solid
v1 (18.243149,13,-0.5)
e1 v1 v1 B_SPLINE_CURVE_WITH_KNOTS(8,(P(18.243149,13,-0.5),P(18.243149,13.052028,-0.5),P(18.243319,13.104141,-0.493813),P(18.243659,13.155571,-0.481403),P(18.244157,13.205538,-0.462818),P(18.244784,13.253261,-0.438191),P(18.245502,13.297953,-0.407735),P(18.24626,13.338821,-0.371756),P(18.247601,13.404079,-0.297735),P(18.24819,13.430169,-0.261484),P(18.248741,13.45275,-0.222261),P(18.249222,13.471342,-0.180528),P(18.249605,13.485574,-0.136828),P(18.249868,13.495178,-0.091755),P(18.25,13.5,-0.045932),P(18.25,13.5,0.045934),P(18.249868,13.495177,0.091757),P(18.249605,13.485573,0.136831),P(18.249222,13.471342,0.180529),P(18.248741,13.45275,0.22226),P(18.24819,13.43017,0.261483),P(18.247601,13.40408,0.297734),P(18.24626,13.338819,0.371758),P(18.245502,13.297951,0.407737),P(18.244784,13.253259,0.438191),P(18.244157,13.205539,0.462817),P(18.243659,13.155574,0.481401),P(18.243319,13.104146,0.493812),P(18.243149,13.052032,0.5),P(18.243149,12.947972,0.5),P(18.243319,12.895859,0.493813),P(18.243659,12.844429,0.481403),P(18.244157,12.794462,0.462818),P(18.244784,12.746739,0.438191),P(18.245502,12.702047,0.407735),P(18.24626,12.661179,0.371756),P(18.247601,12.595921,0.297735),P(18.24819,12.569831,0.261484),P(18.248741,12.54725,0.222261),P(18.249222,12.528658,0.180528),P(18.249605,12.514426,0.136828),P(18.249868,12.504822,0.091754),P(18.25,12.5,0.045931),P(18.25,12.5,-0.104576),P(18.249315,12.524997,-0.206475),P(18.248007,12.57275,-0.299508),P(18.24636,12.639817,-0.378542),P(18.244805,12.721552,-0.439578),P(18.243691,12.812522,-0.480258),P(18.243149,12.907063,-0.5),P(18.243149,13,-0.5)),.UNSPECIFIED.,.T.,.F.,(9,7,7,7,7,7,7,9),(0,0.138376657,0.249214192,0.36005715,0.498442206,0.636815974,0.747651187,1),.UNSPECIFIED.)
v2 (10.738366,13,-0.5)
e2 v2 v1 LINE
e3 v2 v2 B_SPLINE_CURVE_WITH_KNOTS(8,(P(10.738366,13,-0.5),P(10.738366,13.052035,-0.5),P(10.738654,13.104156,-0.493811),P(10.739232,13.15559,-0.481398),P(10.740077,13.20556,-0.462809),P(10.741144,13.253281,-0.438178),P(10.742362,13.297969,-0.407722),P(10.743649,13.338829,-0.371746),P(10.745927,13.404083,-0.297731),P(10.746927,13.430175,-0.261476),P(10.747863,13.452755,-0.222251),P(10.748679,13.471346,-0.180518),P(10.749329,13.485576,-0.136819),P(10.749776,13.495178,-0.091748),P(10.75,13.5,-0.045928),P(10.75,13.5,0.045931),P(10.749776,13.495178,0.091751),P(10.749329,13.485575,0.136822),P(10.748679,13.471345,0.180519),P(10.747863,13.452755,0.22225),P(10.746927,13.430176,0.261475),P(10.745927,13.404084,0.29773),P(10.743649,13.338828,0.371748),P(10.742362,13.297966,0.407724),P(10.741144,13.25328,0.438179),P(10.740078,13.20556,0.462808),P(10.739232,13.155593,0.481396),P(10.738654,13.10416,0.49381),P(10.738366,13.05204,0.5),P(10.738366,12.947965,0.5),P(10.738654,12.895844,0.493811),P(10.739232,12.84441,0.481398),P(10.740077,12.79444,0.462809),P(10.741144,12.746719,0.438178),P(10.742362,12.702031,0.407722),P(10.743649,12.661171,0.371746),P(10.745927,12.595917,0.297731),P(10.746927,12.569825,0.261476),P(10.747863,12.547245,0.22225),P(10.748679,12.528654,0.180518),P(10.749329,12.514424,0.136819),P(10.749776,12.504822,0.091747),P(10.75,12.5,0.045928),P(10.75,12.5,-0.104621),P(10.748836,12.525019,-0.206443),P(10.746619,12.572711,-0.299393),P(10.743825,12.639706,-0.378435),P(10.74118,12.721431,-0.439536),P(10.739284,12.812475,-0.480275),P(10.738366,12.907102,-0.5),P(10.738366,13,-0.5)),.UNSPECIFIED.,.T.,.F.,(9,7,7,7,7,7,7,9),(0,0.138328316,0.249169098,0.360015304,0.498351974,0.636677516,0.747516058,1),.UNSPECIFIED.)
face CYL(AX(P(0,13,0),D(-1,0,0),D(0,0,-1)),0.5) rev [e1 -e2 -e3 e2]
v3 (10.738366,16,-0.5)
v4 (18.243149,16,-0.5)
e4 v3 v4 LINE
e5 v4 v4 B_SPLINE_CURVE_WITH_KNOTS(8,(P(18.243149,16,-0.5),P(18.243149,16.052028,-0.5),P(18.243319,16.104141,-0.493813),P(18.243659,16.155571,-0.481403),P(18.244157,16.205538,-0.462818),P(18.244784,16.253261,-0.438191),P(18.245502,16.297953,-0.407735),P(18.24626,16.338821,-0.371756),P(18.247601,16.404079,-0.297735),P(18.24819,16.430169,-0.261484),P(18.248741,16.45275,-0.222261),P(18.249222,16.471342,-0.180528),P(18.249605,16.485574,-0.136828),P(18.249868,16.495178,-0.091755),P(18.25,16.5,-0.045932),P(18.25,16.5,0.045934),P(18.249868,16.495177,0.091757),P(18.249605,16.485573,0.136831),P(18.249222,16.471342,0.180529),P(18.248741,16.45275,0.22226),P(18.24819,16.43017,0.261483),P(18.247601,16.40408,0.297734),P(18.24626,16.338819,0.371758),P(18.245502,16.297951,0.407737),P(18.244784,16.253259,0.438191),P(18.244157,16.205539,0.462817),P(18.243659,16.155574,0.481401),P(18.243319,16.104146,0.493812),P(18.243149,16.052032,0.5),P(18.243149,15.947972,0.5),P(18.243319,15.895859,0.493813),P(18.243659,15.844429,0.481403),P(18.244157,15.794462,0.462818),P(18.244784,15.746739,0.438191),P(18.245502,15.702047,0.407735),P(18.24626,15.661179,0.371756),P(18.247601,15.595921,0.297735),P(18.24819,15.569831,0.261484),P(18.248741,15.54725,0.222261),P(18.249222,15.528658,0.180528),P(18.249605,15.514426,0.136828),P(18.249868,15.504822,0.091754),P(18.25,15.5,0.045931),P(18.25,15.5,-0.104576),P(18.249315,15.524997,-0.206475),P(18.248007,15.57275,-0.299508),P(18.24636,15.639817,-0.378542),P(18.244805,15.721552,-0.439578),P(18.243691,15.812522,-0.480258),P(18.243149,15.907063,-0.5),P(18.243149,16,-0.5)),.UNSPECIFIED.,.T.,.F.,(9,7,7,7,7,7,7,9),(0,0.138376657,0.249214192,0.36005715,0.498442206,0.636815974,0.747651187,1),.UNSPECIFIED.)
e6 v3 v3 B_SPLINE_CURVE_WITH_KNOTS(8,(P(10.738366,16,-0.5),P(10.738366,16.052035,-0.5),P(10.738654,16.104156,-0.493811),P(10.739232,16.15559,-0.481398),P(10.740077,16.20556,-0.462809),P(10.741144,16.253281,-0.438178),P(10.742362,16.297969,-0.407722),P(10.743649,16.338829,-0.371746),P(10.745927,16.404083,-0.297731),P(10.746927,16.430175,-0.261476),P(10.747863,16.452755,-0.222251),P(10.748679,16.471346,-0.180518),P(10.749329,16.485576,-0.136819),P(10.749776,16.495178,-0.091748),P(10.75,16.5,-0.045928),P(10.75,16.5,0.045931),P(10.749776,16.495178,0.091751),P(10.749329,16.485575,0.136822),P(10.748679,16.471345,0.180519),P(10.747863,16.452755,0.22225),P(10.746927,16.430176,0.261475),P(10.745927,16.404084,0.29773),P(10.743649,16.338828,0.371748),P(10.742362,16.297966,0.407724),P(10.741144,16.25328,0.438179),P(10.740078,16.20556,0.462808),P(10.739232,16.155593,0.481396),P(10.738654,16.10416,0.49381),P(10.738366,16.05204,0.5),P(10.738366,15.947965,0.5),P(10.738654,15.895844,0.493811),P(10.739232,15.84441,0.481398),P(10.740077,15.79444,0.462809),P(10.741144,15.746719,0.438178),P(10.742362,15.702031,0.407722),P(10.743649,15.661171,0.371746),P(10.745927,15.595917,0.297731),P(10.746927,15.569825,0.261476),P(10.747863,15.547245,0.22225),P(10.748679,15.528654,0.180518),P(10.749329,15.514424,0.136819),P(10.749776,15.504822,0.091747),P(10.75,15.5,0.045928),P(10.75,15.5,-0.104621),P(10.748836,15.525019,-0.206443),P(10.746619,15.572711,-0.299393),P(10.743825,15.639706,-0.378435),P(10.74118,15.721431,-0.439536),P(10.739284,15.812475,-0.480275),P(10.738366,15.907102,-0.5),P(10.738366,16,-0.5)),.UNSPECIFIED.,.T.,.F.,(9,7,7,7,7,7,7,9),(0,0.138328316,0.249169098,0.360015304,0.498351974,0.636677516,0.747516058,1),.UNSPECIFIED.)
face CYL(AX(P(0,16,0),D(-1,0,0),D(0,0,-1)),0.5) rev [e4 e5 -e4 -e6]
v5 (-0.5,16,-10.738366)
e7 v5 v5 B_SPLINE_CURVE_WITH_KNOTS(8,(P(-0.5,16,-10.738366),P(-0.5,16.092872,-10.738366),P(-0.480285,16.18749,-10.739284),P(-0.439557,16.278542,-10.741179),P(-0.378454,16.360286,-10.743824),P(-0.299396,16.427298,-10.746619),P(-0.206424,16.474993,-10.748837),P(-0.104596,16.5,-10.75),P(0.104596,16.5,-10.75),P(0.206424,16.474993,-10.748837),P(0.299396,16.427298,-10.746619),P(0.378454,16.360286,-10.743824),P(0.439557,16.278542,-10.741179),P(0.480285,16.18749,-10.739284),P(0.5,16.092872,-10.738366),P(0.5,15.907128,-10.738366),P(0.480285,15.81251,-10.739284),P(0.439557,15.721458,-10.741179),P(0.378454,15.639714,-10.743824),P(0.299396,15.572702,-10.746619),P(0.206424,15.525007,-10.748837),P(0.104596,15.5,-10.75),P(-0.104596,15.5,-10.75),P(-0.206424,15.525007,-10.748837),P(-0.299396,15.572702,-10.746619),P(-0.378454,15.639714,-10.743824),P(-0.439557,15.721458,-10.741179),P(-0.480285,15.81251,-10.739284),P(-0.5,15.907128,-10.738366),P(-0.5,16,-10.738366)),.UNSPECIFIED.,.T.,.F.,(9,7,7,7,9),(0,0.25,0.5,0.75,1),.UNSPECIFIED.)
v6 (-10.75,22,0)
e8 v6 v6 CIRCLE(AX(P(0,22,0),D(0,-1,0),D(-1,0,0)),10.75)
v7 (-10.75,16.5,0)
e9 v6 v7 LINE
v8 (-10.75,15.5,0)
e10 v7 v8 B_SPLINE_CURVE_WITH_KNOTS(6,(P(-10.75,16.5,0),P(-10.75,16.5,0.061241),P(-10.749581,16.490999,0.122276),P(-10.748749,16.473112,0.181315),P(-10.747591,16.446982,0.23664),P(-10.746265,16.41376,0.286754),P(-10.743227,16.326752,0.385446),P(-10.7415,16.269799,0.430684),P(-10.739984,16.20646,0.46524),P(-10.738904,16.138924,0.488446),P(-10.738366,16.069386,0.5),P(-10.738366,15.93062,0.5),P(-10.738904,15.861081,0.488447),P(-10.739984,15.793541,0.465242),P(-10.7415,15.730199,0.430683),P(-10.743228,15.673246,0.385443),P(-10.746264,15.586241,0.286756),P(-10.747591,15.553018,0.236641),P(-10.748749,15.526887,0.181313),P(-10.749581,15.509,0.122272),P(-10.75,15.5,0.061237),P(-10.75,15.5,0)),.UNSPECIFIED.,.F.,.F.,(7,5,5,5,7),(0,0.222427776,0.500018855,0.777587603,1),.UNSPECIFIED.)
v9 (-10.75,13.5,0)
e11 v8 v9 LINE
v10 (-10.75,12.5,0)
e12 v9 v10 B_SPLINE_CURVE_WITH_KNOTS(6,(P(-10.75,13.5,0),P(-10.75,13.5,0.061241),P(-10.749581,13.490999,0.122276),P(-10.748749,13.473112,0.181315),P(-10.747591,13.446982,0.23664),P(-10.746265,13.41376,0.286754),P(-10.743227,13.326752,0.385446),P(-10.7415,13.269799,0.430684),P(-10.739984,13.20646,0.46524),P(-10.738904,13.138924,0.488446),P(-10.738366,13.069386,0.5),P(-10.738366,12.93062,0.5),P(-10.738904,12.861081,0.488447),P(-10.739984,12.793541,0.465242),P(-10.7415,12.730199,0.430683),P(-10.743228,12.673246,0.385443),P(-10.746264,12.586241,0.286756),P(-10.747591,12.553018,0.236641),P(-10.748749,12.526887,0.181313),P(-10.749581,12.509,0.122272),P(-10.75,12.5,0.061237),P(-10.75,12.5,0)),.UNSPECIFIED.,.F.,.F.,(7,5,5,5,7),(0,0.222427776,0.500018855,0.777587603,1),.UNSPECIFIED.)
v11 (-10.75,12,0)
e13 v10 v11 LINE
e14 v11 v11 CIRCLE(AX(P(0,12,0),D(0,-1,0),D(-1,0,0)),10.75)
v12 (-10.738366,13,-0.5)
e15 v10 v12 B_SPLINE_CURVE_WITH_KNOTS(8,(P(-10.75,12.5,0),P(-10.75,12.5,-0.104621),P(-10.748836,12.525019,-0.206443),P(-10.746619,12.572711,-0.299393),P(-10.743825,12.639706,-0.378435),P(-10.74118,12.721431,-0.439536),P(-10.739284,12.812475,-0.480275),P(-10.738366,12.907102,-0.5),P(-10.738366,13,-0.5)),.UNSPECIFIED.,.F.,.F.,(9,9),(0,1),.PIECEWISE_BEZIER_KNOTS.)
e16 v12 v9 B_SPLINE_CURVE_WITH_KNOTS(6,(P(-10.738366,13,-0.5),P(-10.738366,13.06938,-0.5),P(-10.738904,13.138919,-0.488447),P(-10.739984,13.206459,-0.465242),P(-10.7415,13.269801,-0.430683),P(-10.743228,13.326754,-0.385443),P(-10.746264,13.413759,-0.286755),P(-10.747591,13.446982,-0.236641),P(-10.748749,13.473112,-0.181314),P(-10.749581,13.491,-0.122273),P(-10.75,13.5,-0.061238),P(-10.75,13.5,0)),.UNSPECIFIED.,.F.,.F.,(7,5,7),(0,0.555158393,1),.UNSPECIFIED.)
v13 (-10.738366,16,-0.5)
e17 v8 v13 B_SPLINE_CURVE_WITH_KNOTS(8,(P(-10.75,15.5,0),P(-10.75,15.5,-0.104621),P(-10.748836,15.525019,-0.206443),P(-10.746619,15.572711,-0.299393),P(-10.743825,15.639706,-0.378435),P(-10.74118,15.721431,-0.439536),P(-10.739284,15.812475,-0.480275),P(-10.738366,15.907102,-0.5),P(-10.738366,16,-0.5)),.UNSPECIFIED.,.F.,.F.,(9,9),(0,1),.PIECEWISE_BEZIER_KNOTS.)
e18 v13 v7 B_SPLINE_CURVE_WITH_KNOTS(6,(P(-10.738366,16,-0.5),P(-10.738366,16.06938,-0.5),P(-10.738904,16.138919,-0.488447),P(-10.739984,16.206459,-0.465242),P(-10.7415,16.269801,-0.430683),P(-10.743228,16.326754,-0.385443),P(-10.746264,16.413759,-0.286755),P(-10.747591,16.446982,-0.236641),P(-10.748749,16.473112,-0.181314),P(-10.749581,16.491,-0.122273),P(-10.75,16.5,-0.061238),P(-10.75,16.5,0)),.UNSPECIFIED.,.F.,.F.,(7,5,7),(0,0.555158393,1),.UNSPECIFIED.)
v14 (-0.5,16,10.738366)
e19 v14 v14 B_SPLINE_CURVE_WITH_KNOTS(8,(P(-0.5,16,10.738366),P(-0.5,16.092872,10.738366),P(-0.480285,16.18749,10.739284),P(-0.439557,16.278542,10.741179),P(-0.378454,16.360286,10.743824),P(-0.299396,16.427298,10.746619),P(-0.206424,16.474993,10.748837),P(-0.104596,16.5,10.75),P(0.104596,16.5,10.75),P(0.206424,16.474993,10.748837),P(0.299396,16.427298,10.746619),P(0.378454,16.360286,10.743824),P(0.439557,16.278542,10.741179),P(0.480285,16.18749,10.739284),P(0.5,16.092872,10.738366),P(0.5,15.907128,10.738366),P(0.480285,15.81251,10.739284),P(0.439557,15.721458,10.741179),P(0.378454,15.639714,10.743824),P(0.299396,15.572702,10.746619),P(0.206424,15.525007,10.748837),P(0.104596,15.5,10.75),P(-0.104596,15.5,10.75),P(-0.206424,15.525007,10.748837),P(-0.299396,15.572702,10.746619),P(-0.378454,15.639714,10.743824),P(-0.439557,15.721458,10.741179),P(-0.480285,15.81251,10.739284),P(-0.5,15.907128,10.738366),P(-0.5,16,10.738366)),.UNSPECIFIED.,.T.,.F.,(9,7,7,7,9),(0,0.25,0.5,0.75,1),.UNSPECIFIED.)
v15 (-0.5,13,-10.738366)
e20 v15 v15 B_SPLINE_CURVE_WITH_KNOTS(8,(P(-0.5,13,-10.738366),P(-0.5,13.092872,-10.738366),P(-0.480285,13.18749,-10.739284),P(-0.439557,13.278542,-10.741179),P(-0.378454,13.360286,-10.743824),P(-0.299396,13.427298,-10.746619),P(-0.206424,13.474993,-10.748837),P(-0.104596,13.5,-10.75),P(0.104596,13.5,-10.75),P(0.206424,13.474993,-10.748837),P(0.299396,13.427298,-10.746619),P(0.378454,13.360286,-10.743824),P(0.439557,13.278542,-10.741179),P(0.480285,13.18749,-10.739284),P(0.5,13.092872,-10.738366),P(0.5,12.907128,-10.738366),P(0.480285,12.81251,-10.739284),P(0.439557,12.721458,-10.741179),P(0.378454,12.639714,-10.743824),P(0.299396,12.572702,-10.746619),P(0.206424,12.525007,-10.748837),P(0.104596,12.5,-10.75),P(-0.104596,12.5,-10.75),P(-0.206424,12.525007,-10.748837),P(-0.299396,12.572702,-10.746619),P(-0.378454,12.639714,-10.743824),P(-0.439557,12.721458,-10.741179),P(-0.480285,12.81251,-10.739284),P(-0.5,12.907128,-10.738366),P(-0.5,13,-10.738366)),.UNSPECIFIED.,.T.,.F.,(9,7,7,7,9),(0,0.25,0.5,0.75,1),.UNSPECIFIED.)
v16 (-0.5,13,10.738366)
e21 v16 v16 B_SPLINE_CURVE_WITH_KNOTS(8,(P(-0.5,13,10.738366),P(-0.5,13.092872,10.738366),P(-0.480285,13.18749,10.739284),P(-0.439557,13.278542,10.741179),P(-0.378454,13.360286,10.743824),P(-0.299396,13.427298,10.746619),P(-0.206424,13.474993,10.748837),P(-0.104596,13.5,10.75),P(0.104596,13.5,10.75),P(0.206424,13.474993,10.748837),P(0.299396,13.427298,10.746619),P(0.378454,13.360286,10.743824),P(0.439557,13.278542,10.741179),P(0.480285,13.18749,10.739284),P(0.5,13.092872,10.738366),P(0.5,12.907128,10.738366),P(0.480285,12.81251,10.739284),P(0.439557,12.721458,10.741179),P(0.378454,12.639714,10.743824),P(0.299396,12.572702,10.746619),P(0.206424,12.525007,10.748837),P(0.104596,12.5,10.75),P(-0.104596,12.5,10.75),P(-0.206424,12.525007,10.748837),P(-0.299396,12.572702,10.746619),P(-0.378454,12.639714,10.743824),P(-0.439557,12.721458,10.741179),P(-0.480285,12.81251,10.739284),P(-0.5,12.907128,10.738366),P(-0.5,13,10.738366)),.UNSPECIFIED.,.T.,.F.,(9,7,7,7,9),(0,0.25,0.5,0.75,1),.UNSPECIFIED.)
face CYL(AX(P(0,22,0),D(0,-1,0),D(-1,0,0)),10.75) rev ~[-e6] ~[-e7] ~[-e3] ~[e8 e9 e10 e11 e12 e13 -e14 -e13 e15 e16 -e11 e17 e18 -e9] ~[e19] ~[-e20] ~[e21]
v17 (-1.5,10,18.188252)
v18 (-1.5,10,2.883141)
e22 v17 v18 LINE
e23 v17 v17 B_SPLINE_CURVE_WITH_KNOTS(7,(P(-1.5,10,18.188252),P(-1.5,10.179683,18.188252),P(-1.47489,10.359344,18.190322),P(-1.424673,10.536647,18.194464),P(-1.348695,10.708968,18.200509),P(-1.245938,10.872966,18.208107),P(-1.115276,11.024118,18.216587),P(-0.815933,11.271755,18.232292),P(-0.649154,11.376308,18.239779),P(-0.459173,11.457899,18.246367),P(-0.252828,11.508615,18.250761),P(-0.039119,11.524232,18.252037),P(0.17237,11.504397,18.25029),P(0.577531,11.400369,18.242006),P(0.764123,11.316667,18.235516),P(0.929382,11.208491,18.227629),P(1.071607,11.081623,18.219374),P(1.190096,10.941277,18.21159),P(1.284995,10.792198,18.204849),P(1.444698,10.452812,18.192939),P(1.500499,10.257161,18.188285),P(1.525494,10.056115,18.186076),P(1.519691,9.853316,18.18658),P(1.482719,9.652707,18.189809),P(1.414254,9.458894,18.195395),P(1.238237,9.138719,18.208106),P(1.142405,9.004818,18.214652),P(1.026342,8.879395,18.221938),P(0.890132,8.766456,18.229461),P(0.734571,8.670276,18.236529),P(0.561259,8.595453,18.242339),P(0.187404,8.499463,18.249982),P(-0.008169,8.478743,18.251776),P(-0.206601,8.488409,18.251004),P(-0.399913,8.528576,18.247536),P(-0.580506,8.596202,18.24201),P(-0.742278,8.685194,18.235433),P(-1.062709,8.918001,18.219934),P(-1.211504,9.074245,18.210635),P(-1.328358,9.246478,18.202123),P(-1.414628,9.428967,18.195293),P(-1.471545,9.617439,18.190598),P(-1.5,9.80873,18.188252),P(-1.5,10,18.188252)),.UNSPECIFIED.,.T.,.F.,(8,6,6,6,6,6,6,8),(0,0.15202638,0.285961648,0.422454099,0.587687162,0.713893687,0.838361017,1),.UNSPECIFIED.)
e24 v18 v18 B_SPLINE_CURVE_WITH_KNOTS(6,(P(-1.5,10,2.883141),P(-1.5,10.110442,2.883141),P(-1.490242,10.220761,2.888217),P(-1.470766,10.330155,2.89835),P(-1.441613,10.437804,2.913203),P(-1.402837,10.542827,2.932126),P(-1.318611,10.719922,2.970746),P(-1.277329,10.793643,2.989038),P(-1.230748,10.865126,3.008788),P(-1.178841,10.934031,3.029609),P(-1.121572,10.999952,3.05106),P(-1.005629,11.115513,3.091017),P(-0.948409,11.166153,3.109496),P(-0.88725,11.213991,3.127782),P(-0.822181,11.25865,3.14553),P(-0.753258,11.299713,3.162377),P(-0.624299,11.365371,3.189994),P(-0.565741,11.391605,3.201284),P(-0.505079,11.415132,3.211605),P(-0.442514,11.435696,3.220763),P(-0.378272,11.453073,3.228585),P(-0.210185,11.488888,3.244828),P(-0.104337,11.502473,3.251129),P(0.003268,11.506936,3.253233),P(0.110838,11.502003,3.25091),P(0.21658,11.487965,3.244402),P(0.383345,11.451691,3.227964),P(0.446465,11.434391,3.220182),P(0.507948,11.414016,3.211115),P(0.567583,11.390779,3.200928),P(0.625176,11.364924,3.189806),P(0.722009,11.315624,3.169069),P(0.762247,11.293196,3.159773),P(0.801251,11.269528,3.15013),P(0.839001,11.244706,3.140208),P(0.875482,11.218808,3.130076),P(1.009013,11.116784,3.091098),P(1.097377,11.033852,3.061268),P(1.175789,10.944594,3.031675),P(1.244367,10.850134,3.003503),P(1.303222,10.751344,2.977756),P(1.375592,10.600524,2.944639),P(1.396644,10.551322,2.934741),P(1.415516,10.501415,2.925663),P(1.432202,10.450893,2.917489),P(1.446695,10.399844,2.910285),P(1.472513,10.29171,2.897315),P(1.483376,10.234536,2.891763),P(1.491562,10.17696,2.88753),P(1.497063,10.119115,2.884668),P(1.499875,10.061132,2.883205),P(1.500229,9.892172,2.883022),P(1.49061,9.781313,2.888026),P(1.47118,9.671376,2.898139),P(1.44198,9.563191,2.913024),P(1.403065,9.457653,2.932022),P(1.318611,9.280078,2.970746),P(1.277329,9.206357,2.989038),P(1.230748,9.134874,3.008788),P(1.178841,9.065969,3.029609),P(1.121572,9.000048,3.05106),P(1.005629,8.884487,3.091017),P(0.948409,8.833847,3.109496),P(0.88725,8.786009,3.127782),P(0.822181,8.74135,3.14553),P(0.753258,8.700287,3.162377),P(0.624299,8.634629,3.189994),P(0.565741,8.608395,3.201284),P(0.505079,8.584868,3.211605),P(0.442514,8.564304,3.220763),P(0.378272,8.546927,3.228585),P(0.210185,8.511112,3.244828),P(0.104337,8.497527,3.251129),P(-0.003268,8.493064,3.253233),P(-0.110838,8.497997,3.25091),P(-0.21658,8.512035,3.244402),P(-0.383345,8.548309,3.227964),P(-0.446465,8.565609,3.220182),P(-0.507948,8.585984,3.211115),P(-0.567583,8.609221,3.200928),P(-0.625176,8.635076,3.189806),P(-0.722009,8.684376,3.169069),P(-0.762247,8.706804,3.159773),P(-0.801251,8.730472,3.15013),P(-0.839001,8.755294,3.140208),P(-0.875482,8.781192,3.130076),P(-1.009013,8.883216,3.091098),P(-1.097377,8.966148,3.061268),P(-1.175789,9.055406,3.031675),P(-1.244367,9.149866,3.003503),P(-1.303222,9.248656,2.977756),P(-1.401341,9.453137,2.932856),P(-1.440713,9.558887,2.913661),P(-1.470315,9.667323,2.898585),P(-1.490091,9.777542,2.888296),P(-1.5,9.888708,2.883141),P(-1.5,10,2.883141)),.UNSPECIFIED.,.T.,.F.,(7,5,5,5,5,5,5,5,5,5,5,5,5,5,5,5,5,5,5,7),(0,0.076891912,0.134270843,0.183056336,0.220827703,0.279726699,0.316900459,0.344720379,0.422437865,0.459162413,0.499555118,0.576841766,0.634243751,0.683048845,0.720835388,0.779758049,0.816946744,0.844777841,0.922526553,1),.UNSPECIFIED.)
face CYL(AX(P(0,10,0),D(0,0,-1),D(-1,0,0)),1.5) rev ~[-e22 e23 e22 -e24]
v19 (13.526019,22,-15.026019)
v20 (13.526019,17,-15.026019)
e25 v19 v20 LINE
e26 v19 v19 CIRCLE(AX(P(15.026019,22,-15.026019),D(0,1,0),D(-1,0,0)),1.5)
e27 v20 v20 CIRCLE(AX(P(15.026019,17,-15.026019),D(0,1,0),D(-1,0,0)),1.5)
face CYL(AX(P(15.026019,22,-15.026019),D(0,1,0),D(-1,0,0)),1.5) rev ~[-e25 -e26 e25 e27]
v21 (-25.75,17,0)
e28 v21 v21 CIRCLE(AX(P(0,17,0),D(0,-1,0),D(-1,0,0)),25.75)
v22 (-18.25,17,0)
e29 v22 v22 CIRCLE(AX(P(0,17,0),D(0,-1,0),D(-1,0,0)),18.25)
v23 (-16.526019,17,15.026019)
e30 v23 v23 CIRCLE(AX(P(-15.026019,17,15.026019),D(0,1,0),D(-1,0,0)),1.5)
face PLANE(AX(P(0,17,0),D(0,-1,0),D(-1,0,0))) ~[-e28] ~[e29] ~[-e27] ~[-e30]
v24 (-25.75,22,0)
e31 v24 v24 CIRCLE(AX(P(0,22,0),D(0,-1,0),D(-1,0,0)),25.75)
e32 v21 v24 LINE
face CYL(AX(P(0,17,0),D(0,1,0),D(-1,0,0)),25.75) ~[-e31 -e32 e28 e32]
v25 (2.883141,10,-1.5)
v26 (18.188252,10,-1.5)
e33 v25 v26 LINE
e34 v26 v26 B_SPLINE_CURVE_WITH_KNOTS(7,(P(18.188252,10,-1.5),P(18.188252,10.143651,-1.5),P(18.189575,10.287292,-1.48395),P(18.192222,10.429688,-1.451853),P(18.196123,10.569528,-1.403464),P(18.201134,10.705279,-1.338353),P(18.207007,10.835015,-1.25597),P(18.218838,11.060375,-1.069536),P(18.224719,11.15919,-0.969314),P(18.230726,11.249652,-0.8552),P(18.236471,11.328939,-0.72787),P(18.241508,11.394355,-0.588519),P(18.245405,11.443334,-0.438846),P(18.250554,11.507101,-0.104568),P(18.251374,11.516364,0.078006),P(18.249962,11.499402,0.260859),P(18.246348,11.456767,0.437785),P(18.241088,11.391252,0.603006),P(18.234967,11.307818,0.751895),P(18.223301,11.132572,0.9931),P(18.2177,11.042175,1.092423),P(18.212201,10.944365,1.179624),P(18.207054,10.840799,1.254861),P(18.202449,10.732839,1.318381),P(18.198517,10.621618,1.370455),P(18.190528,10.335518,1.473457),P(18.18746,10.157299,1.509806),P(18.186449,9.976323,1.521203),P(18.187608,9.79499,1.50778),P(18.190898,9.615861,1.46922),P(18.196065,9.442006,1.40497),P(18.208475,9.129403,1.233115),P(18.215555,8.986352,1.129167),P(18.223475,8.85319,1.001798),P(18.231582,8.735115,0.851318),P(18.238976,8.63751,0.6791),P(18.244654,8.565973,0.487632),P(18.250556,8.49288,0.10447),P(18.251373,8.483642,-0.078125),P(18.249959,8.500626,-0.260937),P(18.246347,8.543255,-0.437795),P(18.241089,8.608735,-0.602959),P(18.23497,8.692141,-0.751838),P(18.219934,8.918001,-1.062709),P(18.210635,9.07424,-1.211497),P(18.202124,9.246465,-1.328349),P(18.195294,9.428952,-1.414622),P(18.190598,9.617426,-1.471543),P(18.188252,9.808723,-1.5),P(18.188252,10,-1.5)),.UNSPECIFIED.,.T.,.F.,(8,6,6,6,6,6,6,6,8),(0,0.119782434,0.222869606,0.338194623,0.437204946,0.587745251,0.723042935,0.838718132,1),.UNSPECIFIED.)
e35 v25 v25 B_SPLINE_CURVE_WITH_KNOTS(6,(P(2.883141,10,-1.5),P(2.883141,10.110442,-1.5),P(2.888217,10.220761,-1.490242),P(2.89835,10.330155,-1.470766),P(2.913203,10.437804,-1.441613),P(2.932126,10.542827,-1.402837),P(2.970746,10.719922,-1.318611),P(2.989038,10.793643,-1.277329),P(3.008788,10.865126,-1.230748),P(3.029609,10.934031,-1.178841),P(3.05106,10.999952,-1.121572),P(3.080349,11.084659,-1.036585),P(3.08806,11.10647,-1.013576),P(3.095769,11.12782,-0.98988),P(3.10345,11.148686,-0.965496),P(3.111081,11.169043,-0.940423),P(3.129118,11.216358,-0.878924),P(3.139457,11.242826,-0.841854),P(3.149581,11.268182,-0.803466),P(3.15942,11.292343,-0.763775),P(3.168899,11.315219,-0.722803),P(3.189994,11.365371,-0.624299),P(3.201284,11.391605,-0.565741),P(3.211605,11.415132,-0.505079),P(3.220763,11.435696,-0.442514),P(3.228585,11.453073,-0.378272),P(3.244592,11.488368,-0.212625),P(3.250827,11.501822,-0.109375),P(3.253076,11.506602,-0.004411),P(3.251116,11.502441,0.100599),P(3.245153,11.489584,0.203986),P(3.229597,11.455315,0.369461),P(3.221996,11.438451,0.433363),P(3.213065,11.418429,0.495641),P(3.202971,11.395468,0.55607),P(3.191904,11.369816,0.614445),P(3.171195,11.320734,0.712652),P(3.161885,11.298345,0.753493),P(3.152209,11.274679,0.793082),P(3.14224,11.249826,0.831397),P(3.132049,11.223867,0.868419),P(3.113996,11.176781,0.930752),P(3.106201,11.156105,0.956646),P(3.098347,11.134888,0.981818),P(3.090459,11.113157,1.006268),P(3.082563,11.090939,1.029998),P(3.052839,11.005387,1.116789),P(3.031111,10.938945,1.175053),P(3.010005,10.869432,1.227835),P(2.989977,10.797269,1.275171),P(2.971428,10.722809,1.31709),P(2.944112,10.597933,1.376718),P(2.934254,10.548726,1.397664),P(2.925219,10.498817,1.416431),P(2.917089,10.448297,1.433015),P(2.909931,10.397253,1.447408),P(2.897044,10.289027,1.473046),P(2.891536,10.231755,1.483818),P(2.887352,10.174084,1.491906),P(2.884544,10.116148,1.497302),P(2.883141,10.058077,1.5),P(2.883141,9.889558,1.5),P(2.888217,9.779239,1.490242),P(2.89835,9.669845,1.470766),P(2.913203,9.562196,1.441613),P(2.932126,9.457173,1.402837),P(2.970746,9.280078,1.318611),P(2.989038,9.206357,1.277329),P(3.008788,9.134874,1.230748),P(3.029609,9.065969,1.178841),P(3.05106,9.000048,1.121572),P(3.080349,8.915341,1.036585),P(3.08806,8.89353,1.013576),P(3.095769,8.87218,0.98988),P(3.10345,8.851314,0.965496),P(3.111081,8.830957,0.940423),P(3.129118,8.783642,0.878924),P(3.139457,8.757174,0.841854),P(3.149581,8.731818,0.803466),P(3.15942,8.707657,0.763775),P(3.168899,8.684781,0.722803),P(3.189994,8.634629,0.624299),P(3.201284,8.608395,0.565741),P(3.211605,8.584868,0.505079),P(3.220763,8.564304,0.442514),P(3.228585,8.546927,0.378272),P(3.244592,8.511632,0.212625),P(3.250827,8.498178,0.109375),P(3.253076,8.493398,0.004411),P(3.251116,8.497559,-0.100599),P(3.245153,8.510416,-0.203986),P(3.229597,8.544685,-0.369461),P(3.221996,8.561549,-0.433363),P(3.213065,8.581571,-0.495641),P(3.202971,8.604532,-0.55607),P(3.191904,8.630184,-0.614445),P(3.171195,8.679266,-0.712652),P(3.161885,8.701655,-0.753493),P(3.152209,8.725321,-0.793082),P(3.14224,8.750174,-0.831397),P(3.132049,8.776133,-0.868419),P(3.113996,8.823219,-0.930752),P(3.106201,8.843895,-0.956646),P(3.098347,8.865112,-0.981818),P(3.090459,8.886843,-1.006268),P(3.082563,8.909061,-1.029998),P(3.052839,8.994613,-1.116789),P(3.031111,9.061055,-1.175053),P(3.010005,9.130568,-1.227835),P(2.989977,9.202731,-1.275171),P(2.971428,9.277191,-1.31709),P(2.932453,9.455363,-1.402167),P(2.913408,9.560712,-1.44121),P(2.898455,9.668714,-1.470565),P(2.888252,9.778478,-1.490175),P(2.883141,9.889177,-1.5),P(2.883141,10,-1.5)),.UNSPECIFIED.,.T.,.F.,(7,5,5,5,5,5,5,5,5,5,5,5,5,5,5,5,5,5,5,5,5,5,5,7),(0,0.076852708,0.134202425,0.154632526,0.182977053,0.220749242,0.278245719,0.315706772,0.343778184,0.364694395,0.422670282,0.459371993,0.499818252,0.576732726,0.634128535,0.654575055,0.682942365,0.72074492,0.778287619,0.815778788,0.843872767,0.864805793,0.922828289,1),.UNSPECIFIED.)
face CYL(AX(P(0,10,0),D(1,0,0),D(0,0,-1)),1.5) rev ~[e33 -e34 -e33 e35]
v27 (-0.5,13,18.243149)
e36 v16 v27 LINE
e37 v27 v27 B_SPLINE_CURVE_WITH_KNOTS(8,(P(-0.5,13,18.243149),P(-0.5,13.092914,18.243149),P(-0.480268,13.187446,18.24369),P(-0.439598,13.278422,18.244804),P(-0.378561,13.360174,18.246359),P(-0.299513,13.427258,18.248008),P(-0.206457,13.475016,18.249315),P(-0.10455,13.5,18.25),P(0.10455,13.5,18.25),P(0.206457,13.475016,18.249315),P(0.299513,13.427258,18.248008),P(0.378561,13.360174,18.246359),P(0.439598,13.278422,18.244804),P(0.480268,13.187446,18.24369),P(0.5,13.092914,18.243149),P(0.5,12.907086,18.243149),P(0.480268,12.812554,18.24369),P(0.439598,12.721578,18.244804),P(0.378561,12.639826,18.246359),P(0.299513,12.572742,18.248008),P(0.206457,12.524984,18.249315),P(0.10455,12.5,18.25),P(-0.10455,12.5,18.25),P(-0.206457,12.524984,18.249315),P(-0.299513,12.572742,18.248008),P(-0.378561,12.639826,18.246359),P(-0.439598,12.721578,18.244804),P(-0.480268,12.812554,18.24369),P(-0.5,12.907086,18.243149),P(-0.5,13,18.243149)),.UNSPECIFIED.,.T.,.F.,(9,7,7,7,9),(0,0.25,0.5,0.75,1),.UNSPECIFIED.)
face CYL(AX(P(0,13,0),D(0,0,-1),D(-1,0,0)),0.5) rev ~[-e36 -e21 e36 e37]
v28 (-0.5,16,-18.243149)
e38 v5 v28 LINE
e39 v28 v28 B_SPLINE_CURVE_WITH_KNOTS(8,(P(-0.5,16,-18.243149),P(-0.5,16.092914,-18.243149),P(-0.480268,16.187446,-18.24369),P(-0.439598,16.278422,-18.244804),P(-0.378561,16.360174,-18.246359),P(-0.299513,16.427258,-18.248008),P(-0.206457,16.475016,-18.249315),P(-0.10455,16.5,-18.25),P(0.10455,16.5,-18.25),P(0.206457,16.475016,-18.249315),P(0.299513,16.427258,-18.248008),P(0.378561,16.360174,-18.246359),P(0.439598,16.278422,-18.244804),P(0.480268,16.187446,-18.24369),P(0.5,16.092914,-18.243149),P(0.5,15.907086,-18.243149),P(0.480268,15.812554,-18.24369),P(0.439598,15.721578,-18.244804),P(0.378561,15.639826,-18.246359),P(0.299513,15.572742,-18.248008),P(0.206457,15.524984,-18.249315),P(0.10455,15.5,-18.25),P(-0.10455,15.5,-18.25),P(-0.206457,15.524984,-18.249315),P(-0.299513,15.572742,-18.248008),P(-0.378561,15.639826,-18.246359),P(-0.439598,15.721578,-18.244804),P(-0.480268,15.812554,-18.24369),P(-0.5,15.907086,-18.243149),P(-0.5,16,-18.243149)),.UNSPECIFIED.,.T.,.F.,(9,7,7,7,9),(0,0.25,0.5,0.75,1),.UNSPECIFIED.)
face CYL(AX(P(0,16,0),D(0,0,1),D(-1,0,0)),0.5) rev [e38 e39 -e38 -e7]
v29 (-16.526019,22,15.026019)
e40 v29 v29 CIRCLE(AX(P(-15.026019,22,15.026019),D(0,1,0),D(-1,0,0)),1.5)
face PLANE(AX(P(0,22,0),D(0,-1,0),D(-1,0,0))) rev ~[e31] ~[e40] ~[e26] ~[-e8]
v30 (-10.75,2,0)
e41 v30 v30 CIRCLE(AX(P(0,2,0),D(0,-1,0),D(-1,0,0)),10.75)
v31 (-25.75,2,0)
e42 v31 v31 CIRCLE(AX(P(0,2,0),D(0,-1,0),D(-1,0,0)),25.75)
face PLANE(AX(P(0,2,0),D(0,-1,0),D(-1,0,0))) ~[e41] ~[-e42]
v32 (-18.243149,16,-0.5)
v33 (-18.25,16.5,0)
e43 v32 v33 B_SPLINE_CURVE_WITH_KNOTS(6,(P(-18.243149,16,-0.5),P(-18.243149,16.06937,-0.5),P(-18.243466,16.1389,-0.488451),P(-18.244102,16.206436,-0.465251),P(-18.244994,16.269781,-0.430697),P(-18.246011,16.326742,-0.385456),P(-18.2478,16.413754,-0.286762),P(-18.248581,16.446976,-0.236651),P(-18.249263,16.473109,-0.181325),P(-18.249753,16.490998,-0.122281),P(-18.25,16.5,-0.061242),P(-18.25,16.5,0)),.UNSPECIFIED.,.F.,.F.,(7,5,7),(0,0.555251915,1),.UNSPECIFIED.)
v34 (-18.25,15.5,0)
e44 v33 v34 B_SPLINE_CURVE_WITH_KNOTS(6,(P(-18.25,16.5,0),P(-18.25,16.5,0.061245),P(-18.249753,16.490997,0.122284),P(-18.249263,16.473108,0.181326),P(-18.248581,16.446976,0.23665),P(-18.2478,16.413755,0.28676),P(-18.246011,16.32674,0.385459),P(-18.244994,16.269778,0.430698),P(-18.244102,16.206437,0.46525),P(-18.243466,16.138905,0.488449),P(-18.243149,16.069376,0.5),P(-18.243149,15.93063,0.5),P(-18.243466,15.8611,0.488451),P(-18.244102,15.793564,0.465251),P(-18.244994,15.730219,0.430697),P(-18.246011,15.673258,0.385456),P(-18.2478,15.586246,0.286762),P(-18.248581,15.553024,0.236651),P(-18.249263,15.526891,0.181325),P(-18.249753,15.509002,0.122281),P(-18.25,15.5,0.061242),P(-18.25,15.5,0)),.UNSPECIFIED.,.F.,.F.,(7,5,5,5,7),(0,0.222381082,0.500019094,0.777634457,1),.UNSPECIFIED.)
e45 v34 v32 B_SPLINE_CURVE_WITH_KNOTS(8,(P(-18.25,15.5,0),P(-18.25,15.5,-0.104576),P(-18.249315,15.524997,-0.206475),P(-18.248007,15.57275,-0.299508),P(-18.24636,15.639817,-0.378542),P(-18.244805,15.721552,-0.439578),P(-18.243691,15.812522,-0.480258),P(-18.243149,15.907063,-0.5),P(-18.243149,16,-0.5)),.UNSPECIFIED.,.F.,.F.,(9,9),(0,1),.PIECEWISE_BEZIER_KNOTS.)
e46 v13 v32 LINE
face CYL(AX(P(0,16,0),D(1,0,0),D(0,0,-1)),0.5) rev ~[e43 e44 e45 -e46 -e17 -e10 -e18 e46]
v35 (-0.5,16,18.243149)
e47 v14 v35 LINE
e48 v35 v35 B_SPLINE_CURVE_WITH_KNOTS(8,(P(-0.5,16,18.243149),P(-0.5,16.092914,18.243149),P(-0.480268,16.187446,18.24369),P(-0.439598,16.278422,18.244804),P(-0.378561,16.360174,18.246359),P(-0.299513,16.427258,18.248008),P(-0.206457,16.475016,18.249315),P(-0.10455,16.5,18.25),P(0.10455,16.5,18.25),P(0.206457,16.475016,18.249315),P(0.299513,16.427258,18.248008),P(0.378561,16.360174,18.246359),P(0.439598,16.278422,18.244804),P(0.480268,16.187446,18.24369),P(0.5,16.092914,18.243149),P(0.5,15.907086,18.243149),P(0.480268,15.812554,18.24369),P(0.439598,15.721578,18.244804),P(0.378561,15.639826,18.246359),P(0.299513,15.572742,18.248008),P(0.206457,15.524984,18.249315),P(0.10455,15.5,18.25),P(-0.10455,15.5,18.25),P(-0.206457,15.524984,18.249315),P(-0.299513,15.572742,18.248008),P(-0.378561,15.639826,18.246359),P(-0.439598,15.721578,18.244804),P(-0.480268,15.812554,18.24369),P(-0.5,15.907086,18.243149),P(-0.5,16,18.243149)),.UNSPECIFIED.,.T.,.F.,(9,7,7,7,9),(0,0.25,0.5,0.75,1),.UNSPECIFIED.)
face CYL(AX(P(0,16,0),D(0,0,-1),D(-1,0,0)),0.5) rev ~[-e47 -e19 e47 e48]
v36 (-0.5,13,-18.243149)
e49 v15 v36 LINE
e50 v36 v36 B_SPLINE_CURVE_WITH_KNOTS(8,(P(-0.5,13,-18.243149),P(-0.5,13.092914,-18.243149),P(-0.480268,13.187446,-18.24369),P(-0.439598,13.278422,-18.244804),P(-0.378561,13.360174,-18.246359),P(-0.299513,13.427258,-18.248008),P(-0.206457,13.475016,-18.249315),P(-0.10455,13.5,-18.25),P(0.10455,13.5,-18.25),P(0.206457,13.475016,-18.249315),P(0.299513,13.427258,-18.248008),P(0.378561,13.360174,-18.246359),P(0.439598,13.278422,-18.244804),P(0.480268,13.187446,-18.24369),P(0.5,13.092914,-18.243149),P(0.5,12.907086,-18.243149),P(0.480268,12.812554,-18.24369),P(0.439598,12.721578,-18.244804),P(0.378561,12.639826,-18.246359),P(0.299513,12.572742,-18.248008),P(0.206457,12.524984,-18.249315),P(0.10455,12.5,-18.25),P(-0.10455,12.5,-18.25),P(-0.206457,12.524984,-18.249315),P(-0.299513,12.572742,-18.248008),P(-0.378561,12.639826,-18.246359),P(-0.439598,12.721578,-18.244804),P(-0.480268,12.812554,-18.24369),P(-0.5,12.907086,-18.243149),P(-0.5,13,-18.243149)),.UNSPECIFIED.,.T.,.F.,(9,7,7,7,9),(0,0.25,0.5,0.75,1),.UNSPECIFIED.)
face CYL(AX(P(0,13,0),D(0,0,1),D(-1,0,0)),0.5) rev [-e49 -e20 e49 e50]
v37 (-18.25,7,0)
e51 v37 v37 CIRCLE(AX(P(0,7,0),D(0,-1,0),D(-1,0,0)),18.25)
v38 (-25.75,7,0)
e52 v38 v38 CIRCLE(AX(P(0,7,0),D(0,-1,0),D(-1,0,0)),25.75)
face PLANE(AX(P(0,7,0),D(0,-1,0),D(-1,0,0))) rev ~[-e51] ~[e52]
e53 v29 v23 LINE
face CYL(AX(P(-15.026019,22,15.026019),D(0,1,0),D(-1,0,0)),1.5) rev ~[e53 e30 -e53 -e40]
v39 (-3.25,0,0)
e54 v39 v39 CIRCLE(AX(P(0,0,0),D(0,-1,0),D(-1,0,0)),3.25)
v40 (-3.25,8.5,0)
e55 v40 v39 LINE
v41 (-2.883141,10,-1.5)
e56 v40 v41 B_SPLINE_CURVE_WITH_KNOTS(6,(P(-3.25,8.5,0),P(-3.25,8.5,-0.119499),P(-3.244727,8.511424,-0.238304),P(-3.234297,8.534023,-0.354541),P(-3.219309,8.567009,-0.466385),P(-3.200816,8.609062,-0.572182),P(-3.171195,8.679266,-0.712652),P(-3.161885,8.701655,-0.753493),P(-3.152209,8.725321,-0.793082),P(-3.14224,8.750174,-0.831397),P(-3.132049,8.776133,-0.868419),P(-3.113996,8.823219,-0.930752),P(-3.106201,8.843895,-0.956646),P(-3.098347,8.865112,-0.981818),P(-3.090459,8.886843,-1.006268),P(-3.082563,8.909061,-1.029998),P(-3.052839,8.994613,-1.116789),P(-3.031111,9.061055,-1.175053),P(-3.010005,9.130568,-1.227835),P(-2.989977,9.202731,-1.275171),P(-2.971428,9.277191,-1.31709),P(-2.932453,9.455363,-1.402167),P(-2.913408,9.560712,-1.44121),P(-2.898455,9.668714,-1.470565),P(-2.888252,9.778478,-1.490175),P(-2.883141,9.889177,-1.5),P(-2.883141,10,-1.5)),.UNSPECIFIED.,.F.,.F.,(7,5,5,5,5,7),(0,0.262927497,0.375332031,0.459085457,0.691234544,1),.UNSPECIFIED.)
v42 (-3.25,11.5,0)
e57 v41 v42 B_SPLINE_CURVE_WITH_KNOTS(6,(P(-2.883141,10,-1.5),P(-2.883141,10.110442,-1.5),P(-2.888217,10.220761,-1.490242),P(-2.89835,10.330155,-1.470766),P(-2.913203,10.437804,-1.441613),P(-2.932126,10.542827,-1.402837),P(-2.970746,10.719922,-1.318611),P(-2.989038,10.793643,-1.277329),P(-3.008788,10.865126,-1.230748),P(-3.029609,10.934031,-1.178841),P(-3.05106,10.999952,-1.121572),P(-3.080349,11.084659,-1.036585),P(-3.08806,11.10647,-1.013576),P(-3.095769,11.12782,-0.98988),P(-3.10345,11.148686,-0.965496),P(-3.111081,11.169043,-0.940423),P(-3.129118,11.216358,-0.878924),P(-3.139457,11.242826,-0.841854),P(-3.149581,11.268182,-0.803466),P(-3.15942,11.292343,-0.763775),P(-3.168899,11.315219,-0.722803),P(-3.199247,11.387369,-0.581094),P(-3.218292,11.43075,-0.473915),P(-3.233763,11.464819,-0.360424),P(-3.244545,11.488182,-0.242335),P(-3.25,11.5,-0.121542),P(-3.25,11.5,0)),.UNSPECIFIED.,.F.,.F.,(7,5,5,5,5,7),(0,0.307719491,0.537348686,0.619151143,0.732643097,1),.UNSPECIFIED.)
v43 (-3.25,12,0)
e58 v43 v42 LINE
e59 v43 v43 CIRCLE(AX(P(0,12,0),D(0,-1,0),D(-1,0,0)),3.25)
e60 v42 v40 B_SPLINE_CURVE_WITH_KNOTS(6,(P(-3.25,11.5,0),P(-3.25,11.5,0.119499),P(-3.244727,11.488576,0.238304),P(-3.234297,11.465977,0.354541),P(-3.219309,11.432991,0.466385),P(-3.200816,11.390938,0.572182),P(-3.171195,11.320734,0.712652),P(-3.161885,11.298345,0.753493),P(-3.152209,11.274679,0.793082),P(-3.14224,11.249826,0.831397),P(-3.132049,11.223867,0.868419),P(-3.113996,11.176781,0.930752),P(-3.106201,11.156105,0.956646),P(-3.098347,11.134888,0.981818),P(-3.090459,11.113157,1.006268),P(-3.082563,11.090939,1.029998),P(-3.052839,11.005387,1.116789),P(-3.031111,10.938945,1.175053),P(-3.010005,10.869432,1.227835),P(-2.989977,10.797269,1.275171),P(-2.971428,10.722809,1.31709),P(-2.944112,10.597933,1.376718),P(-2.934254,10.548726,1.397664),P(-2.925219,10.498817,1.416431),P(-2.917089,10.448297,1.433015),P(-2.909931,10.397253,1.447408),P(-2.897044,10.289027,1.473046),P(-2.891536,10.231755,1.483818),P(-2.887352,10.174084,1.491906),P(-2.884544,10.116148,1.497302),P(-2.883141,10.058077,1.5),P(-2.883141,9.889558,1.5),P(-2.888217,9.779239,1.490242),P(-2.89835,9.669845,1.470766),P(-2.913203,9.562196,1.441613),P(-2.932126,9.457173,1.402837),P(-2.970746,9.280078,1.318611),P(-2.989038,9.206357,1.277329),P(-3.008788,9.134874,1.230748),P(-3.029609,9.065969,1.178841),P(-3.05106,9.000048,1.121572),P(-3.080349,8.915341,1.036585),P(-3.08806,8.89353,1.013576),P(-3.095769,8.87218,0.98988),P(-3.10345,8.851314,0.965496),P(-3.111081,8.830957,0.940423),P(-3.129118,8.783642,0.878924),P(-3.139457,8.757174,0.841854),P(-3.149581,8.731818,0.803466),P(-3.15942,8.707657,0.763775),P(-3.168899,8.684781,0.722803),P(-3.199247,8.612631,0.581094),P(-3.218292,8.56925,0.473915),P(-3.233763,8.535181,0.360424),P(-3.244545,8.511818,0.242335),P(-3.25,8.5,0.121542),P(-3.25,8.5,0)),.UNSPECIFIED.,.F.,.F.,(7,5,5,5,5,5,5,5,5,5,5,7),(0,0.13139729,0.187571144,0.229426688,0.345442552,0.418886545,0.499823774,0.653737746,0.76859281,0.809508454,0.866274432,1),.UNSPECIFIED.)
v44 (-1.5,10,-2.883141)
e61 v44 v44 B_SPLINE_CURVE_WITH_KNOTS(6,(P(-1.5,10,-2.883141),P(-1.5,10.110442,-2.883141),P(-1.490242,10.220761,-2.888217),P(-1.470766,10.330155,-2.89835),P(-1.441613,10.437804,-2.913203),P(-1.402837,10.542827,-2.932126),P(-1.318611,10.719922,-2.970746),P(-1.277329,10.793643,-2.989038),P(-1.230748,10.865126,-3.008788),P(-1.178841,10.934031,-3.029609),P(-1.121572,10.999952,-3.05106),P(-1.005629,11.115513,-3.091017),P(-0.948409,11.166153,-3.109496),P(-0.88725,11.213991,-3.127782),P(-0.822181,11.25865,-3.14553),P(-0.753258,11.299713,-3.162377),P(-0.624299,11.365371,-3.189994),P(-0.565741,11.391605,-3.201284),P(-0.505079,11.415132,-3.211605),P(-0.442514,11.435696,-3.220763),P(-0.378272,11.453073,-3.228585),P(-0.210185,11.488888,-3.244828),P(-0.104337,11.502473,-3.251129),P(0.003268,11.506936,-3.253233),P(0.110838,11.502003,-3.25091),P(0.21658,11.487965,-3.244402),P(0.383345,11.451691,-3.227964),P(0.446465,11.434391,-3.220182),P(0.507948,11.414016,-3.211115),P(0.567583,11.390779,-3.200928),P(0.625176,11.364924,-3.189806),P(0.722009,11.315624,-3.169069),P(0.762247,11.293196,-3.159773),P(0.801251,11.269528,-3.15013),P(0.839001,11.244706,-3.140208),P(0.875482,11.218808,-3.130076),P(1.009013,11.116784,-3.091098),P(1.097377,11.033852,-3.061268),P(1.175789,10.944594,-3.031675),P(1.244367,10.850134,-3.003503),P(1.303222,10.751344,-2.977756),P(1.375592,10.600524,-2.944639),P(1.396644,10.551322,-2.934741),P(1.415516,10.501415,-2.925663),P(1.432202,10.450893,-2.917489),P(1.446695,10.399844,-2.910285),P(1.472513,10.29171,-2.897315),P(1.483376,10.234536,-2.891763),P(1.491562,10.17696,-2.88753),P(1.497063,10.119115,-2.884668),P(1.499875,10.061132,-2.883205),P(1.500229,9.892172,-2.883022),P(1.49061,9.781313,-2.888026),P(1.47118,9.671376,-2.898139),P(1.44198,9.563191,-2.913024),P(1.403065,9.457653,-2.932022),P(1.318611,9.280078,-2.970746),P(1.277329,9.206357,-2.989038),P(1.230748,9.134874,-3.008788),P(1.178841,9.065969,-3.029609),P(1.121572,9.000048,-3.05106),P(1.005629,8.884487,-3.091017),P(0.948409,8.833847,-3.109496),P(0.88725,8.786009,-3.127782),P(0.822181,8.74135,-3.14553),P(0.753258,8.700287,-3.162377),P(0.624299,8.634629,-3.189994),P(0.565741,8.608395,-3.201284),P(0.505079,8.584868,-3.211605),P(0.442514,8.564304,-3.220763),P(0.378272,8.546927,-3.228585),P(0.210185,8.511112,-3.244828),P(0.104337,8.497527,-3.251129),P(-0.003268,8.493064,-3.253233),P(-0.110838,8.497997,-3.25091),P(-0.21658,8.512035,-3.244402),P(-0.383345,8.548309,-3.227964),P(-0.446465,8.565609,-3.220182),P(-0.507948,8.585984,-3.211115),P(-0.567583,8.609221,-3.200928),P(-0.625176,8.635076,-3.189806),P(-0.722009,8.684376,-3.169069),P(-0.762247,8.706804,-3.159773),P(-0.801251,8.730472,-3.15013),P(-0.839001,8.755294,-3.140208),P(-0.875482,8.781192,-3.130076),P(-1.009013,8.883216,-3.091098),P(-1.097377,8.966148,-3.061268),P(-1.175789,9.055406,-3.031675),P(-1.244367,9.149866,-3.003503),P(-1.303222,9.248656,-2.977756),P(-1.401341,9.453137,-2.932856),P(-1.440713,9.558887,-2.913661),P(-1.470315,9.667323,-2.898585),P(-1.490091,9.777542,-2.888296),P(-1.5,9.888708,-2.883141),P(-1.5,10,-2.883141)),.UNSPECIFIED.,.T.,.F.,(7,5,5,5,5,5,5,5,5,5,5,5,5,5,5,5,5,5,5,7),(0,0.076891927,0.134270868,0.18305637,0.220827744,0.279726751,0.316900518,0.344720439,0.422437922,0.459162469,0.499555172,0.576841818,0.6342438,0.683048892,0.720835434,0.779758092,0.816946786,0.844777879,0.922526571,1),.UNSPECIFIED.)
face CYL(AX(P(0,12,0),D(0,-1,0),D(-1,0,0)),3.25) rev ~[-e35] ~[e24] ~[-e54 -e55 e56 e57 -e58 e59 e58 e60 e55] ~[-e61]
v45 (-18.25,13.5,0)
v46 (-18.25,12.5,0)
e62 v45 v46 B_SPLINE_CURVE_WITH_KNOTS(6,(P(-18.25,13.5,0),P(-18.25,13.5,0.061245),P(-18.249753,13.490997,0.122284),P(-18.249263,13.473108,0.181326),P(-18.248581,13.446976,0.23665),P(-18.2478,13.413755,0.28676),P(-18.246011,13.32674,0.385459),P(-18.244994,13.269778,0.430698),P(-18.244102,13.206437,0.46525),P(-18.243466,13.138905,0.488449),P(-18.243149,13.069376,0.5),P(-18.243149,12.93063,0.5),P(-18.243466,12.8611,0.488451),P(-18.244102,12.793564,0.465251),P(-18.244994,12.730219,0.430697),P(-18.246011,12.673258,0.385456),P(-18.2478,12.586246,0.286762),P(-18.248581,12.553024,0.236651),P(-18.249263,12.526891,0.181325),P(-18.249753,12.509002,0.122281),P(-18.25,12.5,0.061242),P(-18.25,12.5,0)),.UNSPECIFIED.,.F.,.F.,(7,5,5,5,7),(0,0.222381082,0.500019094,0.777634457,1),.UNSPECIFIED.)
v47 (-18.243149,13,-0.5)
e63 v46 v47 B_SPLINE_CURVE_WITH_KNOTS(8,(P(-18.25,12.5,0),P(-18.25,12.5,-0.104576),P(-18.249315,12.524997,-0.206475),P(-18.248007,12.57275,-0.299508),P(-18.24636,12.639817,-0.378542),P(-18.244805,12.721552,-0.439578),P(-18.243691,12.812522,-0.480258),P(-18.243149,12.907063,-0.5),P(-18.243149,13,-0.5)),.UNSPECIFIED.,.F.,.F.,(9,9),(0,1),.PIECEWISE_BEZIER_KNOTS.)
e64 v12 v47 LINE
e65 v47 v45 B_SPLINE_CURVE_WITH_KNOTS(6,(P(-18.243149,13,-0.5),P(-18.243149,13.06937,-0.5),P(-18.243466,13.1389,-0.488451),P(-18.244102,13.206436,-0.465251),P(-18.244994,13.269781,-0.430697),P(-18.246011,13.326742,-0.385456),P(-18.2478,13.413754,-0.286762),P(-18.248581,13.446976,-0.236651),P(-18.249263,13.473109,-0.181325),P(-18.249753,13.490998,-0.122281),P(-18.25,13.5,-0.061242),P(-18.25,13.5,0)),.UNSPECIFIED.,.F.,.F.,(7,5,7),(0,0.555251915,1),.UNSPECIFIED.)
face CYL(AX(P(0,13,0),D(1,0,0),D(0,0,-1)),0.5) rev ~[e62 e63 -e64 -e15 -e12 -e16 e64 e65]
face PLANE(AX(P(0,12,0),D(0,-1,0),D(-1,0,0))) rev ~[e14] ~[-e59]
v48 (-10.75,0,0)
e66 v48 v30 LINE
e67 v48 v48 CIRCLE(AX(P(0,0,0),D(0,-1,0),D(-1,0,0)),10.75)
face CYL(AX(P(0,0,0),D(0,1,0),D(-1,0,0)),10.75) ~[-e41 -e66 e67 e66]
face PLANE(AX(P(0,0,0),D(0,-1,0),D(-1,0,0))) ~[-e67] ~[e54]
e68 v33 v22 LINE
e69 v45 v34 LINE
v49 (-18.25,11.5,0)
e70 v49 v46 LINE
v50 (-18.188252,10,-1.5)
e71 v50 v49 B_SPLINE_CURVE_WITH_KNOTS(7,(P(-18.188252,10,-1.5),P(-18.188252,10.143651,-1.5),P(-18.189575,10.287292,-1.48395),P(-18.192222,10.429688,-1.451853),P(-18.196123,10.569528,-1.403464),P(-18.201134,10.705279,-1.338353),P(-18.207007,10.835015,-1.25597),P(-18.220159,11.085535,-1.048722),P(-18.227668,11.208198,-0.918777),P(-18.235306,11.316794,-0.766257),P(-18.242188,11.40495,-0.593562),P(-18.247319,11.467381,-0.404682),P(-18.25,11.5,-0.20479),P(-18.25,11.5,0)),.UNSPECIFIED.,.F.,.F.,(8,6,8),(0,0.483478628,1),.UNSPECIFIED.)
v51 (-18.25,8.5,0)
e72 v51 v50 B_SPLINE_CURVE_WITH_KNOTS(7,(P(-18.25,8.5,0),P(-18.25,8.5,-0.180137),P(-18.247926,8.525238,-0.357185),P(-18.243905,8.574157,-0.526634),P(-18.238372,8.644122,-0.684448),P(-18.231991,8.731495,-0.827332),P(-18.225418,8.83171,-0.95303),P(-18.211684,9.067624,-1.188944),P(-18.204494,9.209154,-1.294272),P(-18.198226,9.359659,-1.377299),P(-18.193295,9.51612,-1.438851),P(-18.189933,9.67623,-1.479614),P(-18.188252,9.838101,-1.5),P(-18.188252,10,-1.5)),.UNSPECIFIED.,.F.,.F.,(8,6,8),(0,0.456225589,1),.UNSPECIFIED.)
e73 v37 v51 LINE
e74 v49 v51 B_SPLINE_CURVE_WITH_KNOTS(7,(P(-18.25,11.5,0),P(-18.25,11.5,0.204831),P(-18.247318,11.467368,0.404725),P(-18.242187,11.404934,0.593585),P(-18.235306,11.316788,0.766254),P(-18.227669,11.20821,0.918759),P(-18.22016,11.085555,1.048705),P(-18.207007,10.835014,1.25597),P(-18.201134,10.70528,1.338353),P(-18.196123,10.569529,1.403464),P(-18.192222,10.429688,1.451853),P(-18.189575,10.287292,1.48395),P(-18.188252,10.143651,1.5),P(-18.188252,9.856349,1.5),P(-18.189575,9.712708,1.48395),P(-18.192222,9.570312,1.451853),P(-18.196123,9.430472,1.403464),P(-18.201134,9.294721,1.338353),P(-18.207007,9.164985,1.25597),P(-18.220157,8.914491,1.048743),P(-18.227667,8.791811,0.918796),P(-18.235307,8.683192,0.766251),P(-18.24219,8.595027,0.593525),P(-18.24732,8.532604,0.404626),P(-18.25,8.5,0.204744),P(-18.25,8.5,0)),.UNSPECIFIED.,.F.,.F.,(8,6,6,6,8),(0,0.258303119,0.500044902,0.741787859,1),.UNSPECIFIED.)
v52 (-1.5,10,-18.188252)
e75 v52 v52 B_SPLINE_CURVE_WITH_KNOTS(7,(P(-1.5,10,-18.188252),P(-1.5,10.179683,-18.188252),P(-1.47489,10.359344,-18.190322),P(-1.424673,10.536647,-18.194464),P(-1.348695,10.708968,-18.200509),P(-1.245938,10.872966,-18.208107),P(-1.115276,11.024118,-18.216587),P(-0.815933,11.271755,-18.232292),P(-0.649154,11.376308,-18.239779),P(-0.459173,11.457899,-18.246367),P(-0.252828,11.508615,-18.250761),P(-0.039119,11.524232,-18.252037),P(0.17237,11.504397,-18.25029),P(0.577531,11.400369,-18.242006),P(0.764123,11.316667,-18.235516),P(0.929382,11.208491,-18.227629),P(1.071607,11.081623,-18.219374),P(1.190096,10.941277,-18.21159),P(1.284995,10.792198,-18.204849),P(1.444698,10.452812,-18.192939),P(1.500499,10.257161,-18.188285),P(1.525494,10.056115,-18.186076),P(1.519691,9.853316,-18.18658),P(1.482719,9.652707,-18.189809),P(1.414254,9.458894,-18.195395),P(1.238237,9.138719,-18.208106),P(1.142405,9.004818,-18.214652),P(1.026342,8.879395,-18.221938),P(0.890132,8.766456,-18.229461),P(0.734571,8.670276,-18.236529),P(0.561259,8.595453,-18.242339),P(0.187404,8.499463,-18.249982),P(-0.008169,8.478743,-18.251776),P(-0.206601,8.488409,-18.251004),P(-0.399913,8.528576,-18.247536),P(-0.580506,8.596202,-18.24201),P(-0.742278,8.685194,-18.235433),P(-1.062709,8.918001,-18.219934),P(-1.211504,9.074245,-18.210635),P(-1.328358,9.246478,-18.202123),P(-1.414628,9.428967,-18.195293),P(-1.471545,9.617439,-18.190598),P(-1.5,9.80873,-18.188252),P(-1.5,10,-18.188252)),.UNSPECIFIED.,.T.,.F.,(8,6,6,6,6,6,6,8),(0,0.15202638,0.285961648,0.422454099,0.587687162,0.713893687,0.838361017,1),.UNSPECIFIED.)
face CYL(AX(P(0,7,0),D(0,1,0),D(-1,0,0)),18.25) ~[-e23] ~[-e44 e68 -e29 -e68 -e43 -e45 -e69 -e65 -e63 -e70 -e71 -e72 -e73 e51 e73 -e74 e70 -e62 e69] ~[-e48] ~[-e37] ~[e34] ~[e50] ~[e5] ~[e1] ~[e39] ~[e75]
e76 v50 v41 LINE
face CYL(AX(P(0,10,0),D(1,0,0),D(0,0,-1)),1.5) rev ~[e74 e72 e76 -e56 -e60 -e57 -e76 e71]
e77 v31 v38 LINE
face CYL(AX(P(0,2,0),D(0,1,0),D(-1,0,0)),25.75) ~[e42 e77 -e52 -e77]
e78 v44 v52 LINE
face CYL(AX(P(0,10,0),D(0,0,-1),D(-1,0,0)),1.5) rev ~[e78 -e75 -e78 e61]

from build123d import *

# Parameters (mm, degrees)
SKETCH3_R          = 0.5
SKETCH3_R_2        = 1.5
CUT_EXTRUDE1_DEPTH = 43.545563811
CIRPATTERN1_COUNT  = 2
CIRPATTERN1_ANGLE  = 90
SKETCH4_R          = 1.5
CUT_EXTRUDE2_DEPTH = 13


with BuildPart() as part:
    # Sketch2 → Revolve1 (revolve)
    with BuildSketch(Plane.XY, mode=Mode.PRIVATE) as revolve1_sk:
        Polygon((3.25, 0), (10.75, 0), (10.75, 2), (25.75, 2), (25.75, 7), (18.25, 7), (18.25, 17), (25.75, 17), (25.75, 22), (10.75, 22), (10.75, 12), (3.25, 12), align=None)
    revolve(revolve1_sk.sketch.rotate(Axis((0, 87.545500491, 0), (0, -1, 0)), 180), axis=Axis((0, 87.545500491, 0), (0, -1, 0)))

    # Sketch3 → Cut-Extrude1 (cut, symmetric)
    with BuildSketch(Plane(origin=(0, 0, 0), x_dir=(0, 0, -1), z_dir=(1, 0, 0))):
        with Locations((0, 13)):
            Circle(SKETCH3_R)
        with Locations((0, 16)):
            Circle(SKETCH3_R)
        with Locations((0, 10)):
            Circle(SKETCH3_R_2)
    cut_extrude1 = extrude(amount=CUT_EXTRUDE1_DEPTH, both=True, mode=Mode.SUBTRACT)

    # CirPattern1: Cut-Extrude1 ×2 about axis
    cirpattern1_axis = Axis((0, 22, 0), (0, 1, 0))
    for i in range(1, CIRPATTERN1_COUNT):
        add(cut_extrude1.rotate(cirpattern1_axis, i * CIRPATTERN1_ANGLE / (CIRPATTERN1_COUNT - 1)), mode=Mode.SUBTRACT)

    # Sketch4 → Cut-Extrude2 (cut)
    with BuildSketch(Plane(origin=(0, 22, 0), x_dir=(1, 0, 0), z_dir=(0, 1, 0))):
        with Locations(Location((15.0260191, 15.0260191, 0), (0, 0, 180))):
            Circle(SKETCH4_R)
        with Locations(Location((-15.0260191, -15.0260191, 0), (0, 0, 180))):
            Circle(SKETCH4_R)
    extrude(amount=-CUT_EXTRUDE2_DEPTH, mode=Mode.SUBTRACT)


solid = part.part
